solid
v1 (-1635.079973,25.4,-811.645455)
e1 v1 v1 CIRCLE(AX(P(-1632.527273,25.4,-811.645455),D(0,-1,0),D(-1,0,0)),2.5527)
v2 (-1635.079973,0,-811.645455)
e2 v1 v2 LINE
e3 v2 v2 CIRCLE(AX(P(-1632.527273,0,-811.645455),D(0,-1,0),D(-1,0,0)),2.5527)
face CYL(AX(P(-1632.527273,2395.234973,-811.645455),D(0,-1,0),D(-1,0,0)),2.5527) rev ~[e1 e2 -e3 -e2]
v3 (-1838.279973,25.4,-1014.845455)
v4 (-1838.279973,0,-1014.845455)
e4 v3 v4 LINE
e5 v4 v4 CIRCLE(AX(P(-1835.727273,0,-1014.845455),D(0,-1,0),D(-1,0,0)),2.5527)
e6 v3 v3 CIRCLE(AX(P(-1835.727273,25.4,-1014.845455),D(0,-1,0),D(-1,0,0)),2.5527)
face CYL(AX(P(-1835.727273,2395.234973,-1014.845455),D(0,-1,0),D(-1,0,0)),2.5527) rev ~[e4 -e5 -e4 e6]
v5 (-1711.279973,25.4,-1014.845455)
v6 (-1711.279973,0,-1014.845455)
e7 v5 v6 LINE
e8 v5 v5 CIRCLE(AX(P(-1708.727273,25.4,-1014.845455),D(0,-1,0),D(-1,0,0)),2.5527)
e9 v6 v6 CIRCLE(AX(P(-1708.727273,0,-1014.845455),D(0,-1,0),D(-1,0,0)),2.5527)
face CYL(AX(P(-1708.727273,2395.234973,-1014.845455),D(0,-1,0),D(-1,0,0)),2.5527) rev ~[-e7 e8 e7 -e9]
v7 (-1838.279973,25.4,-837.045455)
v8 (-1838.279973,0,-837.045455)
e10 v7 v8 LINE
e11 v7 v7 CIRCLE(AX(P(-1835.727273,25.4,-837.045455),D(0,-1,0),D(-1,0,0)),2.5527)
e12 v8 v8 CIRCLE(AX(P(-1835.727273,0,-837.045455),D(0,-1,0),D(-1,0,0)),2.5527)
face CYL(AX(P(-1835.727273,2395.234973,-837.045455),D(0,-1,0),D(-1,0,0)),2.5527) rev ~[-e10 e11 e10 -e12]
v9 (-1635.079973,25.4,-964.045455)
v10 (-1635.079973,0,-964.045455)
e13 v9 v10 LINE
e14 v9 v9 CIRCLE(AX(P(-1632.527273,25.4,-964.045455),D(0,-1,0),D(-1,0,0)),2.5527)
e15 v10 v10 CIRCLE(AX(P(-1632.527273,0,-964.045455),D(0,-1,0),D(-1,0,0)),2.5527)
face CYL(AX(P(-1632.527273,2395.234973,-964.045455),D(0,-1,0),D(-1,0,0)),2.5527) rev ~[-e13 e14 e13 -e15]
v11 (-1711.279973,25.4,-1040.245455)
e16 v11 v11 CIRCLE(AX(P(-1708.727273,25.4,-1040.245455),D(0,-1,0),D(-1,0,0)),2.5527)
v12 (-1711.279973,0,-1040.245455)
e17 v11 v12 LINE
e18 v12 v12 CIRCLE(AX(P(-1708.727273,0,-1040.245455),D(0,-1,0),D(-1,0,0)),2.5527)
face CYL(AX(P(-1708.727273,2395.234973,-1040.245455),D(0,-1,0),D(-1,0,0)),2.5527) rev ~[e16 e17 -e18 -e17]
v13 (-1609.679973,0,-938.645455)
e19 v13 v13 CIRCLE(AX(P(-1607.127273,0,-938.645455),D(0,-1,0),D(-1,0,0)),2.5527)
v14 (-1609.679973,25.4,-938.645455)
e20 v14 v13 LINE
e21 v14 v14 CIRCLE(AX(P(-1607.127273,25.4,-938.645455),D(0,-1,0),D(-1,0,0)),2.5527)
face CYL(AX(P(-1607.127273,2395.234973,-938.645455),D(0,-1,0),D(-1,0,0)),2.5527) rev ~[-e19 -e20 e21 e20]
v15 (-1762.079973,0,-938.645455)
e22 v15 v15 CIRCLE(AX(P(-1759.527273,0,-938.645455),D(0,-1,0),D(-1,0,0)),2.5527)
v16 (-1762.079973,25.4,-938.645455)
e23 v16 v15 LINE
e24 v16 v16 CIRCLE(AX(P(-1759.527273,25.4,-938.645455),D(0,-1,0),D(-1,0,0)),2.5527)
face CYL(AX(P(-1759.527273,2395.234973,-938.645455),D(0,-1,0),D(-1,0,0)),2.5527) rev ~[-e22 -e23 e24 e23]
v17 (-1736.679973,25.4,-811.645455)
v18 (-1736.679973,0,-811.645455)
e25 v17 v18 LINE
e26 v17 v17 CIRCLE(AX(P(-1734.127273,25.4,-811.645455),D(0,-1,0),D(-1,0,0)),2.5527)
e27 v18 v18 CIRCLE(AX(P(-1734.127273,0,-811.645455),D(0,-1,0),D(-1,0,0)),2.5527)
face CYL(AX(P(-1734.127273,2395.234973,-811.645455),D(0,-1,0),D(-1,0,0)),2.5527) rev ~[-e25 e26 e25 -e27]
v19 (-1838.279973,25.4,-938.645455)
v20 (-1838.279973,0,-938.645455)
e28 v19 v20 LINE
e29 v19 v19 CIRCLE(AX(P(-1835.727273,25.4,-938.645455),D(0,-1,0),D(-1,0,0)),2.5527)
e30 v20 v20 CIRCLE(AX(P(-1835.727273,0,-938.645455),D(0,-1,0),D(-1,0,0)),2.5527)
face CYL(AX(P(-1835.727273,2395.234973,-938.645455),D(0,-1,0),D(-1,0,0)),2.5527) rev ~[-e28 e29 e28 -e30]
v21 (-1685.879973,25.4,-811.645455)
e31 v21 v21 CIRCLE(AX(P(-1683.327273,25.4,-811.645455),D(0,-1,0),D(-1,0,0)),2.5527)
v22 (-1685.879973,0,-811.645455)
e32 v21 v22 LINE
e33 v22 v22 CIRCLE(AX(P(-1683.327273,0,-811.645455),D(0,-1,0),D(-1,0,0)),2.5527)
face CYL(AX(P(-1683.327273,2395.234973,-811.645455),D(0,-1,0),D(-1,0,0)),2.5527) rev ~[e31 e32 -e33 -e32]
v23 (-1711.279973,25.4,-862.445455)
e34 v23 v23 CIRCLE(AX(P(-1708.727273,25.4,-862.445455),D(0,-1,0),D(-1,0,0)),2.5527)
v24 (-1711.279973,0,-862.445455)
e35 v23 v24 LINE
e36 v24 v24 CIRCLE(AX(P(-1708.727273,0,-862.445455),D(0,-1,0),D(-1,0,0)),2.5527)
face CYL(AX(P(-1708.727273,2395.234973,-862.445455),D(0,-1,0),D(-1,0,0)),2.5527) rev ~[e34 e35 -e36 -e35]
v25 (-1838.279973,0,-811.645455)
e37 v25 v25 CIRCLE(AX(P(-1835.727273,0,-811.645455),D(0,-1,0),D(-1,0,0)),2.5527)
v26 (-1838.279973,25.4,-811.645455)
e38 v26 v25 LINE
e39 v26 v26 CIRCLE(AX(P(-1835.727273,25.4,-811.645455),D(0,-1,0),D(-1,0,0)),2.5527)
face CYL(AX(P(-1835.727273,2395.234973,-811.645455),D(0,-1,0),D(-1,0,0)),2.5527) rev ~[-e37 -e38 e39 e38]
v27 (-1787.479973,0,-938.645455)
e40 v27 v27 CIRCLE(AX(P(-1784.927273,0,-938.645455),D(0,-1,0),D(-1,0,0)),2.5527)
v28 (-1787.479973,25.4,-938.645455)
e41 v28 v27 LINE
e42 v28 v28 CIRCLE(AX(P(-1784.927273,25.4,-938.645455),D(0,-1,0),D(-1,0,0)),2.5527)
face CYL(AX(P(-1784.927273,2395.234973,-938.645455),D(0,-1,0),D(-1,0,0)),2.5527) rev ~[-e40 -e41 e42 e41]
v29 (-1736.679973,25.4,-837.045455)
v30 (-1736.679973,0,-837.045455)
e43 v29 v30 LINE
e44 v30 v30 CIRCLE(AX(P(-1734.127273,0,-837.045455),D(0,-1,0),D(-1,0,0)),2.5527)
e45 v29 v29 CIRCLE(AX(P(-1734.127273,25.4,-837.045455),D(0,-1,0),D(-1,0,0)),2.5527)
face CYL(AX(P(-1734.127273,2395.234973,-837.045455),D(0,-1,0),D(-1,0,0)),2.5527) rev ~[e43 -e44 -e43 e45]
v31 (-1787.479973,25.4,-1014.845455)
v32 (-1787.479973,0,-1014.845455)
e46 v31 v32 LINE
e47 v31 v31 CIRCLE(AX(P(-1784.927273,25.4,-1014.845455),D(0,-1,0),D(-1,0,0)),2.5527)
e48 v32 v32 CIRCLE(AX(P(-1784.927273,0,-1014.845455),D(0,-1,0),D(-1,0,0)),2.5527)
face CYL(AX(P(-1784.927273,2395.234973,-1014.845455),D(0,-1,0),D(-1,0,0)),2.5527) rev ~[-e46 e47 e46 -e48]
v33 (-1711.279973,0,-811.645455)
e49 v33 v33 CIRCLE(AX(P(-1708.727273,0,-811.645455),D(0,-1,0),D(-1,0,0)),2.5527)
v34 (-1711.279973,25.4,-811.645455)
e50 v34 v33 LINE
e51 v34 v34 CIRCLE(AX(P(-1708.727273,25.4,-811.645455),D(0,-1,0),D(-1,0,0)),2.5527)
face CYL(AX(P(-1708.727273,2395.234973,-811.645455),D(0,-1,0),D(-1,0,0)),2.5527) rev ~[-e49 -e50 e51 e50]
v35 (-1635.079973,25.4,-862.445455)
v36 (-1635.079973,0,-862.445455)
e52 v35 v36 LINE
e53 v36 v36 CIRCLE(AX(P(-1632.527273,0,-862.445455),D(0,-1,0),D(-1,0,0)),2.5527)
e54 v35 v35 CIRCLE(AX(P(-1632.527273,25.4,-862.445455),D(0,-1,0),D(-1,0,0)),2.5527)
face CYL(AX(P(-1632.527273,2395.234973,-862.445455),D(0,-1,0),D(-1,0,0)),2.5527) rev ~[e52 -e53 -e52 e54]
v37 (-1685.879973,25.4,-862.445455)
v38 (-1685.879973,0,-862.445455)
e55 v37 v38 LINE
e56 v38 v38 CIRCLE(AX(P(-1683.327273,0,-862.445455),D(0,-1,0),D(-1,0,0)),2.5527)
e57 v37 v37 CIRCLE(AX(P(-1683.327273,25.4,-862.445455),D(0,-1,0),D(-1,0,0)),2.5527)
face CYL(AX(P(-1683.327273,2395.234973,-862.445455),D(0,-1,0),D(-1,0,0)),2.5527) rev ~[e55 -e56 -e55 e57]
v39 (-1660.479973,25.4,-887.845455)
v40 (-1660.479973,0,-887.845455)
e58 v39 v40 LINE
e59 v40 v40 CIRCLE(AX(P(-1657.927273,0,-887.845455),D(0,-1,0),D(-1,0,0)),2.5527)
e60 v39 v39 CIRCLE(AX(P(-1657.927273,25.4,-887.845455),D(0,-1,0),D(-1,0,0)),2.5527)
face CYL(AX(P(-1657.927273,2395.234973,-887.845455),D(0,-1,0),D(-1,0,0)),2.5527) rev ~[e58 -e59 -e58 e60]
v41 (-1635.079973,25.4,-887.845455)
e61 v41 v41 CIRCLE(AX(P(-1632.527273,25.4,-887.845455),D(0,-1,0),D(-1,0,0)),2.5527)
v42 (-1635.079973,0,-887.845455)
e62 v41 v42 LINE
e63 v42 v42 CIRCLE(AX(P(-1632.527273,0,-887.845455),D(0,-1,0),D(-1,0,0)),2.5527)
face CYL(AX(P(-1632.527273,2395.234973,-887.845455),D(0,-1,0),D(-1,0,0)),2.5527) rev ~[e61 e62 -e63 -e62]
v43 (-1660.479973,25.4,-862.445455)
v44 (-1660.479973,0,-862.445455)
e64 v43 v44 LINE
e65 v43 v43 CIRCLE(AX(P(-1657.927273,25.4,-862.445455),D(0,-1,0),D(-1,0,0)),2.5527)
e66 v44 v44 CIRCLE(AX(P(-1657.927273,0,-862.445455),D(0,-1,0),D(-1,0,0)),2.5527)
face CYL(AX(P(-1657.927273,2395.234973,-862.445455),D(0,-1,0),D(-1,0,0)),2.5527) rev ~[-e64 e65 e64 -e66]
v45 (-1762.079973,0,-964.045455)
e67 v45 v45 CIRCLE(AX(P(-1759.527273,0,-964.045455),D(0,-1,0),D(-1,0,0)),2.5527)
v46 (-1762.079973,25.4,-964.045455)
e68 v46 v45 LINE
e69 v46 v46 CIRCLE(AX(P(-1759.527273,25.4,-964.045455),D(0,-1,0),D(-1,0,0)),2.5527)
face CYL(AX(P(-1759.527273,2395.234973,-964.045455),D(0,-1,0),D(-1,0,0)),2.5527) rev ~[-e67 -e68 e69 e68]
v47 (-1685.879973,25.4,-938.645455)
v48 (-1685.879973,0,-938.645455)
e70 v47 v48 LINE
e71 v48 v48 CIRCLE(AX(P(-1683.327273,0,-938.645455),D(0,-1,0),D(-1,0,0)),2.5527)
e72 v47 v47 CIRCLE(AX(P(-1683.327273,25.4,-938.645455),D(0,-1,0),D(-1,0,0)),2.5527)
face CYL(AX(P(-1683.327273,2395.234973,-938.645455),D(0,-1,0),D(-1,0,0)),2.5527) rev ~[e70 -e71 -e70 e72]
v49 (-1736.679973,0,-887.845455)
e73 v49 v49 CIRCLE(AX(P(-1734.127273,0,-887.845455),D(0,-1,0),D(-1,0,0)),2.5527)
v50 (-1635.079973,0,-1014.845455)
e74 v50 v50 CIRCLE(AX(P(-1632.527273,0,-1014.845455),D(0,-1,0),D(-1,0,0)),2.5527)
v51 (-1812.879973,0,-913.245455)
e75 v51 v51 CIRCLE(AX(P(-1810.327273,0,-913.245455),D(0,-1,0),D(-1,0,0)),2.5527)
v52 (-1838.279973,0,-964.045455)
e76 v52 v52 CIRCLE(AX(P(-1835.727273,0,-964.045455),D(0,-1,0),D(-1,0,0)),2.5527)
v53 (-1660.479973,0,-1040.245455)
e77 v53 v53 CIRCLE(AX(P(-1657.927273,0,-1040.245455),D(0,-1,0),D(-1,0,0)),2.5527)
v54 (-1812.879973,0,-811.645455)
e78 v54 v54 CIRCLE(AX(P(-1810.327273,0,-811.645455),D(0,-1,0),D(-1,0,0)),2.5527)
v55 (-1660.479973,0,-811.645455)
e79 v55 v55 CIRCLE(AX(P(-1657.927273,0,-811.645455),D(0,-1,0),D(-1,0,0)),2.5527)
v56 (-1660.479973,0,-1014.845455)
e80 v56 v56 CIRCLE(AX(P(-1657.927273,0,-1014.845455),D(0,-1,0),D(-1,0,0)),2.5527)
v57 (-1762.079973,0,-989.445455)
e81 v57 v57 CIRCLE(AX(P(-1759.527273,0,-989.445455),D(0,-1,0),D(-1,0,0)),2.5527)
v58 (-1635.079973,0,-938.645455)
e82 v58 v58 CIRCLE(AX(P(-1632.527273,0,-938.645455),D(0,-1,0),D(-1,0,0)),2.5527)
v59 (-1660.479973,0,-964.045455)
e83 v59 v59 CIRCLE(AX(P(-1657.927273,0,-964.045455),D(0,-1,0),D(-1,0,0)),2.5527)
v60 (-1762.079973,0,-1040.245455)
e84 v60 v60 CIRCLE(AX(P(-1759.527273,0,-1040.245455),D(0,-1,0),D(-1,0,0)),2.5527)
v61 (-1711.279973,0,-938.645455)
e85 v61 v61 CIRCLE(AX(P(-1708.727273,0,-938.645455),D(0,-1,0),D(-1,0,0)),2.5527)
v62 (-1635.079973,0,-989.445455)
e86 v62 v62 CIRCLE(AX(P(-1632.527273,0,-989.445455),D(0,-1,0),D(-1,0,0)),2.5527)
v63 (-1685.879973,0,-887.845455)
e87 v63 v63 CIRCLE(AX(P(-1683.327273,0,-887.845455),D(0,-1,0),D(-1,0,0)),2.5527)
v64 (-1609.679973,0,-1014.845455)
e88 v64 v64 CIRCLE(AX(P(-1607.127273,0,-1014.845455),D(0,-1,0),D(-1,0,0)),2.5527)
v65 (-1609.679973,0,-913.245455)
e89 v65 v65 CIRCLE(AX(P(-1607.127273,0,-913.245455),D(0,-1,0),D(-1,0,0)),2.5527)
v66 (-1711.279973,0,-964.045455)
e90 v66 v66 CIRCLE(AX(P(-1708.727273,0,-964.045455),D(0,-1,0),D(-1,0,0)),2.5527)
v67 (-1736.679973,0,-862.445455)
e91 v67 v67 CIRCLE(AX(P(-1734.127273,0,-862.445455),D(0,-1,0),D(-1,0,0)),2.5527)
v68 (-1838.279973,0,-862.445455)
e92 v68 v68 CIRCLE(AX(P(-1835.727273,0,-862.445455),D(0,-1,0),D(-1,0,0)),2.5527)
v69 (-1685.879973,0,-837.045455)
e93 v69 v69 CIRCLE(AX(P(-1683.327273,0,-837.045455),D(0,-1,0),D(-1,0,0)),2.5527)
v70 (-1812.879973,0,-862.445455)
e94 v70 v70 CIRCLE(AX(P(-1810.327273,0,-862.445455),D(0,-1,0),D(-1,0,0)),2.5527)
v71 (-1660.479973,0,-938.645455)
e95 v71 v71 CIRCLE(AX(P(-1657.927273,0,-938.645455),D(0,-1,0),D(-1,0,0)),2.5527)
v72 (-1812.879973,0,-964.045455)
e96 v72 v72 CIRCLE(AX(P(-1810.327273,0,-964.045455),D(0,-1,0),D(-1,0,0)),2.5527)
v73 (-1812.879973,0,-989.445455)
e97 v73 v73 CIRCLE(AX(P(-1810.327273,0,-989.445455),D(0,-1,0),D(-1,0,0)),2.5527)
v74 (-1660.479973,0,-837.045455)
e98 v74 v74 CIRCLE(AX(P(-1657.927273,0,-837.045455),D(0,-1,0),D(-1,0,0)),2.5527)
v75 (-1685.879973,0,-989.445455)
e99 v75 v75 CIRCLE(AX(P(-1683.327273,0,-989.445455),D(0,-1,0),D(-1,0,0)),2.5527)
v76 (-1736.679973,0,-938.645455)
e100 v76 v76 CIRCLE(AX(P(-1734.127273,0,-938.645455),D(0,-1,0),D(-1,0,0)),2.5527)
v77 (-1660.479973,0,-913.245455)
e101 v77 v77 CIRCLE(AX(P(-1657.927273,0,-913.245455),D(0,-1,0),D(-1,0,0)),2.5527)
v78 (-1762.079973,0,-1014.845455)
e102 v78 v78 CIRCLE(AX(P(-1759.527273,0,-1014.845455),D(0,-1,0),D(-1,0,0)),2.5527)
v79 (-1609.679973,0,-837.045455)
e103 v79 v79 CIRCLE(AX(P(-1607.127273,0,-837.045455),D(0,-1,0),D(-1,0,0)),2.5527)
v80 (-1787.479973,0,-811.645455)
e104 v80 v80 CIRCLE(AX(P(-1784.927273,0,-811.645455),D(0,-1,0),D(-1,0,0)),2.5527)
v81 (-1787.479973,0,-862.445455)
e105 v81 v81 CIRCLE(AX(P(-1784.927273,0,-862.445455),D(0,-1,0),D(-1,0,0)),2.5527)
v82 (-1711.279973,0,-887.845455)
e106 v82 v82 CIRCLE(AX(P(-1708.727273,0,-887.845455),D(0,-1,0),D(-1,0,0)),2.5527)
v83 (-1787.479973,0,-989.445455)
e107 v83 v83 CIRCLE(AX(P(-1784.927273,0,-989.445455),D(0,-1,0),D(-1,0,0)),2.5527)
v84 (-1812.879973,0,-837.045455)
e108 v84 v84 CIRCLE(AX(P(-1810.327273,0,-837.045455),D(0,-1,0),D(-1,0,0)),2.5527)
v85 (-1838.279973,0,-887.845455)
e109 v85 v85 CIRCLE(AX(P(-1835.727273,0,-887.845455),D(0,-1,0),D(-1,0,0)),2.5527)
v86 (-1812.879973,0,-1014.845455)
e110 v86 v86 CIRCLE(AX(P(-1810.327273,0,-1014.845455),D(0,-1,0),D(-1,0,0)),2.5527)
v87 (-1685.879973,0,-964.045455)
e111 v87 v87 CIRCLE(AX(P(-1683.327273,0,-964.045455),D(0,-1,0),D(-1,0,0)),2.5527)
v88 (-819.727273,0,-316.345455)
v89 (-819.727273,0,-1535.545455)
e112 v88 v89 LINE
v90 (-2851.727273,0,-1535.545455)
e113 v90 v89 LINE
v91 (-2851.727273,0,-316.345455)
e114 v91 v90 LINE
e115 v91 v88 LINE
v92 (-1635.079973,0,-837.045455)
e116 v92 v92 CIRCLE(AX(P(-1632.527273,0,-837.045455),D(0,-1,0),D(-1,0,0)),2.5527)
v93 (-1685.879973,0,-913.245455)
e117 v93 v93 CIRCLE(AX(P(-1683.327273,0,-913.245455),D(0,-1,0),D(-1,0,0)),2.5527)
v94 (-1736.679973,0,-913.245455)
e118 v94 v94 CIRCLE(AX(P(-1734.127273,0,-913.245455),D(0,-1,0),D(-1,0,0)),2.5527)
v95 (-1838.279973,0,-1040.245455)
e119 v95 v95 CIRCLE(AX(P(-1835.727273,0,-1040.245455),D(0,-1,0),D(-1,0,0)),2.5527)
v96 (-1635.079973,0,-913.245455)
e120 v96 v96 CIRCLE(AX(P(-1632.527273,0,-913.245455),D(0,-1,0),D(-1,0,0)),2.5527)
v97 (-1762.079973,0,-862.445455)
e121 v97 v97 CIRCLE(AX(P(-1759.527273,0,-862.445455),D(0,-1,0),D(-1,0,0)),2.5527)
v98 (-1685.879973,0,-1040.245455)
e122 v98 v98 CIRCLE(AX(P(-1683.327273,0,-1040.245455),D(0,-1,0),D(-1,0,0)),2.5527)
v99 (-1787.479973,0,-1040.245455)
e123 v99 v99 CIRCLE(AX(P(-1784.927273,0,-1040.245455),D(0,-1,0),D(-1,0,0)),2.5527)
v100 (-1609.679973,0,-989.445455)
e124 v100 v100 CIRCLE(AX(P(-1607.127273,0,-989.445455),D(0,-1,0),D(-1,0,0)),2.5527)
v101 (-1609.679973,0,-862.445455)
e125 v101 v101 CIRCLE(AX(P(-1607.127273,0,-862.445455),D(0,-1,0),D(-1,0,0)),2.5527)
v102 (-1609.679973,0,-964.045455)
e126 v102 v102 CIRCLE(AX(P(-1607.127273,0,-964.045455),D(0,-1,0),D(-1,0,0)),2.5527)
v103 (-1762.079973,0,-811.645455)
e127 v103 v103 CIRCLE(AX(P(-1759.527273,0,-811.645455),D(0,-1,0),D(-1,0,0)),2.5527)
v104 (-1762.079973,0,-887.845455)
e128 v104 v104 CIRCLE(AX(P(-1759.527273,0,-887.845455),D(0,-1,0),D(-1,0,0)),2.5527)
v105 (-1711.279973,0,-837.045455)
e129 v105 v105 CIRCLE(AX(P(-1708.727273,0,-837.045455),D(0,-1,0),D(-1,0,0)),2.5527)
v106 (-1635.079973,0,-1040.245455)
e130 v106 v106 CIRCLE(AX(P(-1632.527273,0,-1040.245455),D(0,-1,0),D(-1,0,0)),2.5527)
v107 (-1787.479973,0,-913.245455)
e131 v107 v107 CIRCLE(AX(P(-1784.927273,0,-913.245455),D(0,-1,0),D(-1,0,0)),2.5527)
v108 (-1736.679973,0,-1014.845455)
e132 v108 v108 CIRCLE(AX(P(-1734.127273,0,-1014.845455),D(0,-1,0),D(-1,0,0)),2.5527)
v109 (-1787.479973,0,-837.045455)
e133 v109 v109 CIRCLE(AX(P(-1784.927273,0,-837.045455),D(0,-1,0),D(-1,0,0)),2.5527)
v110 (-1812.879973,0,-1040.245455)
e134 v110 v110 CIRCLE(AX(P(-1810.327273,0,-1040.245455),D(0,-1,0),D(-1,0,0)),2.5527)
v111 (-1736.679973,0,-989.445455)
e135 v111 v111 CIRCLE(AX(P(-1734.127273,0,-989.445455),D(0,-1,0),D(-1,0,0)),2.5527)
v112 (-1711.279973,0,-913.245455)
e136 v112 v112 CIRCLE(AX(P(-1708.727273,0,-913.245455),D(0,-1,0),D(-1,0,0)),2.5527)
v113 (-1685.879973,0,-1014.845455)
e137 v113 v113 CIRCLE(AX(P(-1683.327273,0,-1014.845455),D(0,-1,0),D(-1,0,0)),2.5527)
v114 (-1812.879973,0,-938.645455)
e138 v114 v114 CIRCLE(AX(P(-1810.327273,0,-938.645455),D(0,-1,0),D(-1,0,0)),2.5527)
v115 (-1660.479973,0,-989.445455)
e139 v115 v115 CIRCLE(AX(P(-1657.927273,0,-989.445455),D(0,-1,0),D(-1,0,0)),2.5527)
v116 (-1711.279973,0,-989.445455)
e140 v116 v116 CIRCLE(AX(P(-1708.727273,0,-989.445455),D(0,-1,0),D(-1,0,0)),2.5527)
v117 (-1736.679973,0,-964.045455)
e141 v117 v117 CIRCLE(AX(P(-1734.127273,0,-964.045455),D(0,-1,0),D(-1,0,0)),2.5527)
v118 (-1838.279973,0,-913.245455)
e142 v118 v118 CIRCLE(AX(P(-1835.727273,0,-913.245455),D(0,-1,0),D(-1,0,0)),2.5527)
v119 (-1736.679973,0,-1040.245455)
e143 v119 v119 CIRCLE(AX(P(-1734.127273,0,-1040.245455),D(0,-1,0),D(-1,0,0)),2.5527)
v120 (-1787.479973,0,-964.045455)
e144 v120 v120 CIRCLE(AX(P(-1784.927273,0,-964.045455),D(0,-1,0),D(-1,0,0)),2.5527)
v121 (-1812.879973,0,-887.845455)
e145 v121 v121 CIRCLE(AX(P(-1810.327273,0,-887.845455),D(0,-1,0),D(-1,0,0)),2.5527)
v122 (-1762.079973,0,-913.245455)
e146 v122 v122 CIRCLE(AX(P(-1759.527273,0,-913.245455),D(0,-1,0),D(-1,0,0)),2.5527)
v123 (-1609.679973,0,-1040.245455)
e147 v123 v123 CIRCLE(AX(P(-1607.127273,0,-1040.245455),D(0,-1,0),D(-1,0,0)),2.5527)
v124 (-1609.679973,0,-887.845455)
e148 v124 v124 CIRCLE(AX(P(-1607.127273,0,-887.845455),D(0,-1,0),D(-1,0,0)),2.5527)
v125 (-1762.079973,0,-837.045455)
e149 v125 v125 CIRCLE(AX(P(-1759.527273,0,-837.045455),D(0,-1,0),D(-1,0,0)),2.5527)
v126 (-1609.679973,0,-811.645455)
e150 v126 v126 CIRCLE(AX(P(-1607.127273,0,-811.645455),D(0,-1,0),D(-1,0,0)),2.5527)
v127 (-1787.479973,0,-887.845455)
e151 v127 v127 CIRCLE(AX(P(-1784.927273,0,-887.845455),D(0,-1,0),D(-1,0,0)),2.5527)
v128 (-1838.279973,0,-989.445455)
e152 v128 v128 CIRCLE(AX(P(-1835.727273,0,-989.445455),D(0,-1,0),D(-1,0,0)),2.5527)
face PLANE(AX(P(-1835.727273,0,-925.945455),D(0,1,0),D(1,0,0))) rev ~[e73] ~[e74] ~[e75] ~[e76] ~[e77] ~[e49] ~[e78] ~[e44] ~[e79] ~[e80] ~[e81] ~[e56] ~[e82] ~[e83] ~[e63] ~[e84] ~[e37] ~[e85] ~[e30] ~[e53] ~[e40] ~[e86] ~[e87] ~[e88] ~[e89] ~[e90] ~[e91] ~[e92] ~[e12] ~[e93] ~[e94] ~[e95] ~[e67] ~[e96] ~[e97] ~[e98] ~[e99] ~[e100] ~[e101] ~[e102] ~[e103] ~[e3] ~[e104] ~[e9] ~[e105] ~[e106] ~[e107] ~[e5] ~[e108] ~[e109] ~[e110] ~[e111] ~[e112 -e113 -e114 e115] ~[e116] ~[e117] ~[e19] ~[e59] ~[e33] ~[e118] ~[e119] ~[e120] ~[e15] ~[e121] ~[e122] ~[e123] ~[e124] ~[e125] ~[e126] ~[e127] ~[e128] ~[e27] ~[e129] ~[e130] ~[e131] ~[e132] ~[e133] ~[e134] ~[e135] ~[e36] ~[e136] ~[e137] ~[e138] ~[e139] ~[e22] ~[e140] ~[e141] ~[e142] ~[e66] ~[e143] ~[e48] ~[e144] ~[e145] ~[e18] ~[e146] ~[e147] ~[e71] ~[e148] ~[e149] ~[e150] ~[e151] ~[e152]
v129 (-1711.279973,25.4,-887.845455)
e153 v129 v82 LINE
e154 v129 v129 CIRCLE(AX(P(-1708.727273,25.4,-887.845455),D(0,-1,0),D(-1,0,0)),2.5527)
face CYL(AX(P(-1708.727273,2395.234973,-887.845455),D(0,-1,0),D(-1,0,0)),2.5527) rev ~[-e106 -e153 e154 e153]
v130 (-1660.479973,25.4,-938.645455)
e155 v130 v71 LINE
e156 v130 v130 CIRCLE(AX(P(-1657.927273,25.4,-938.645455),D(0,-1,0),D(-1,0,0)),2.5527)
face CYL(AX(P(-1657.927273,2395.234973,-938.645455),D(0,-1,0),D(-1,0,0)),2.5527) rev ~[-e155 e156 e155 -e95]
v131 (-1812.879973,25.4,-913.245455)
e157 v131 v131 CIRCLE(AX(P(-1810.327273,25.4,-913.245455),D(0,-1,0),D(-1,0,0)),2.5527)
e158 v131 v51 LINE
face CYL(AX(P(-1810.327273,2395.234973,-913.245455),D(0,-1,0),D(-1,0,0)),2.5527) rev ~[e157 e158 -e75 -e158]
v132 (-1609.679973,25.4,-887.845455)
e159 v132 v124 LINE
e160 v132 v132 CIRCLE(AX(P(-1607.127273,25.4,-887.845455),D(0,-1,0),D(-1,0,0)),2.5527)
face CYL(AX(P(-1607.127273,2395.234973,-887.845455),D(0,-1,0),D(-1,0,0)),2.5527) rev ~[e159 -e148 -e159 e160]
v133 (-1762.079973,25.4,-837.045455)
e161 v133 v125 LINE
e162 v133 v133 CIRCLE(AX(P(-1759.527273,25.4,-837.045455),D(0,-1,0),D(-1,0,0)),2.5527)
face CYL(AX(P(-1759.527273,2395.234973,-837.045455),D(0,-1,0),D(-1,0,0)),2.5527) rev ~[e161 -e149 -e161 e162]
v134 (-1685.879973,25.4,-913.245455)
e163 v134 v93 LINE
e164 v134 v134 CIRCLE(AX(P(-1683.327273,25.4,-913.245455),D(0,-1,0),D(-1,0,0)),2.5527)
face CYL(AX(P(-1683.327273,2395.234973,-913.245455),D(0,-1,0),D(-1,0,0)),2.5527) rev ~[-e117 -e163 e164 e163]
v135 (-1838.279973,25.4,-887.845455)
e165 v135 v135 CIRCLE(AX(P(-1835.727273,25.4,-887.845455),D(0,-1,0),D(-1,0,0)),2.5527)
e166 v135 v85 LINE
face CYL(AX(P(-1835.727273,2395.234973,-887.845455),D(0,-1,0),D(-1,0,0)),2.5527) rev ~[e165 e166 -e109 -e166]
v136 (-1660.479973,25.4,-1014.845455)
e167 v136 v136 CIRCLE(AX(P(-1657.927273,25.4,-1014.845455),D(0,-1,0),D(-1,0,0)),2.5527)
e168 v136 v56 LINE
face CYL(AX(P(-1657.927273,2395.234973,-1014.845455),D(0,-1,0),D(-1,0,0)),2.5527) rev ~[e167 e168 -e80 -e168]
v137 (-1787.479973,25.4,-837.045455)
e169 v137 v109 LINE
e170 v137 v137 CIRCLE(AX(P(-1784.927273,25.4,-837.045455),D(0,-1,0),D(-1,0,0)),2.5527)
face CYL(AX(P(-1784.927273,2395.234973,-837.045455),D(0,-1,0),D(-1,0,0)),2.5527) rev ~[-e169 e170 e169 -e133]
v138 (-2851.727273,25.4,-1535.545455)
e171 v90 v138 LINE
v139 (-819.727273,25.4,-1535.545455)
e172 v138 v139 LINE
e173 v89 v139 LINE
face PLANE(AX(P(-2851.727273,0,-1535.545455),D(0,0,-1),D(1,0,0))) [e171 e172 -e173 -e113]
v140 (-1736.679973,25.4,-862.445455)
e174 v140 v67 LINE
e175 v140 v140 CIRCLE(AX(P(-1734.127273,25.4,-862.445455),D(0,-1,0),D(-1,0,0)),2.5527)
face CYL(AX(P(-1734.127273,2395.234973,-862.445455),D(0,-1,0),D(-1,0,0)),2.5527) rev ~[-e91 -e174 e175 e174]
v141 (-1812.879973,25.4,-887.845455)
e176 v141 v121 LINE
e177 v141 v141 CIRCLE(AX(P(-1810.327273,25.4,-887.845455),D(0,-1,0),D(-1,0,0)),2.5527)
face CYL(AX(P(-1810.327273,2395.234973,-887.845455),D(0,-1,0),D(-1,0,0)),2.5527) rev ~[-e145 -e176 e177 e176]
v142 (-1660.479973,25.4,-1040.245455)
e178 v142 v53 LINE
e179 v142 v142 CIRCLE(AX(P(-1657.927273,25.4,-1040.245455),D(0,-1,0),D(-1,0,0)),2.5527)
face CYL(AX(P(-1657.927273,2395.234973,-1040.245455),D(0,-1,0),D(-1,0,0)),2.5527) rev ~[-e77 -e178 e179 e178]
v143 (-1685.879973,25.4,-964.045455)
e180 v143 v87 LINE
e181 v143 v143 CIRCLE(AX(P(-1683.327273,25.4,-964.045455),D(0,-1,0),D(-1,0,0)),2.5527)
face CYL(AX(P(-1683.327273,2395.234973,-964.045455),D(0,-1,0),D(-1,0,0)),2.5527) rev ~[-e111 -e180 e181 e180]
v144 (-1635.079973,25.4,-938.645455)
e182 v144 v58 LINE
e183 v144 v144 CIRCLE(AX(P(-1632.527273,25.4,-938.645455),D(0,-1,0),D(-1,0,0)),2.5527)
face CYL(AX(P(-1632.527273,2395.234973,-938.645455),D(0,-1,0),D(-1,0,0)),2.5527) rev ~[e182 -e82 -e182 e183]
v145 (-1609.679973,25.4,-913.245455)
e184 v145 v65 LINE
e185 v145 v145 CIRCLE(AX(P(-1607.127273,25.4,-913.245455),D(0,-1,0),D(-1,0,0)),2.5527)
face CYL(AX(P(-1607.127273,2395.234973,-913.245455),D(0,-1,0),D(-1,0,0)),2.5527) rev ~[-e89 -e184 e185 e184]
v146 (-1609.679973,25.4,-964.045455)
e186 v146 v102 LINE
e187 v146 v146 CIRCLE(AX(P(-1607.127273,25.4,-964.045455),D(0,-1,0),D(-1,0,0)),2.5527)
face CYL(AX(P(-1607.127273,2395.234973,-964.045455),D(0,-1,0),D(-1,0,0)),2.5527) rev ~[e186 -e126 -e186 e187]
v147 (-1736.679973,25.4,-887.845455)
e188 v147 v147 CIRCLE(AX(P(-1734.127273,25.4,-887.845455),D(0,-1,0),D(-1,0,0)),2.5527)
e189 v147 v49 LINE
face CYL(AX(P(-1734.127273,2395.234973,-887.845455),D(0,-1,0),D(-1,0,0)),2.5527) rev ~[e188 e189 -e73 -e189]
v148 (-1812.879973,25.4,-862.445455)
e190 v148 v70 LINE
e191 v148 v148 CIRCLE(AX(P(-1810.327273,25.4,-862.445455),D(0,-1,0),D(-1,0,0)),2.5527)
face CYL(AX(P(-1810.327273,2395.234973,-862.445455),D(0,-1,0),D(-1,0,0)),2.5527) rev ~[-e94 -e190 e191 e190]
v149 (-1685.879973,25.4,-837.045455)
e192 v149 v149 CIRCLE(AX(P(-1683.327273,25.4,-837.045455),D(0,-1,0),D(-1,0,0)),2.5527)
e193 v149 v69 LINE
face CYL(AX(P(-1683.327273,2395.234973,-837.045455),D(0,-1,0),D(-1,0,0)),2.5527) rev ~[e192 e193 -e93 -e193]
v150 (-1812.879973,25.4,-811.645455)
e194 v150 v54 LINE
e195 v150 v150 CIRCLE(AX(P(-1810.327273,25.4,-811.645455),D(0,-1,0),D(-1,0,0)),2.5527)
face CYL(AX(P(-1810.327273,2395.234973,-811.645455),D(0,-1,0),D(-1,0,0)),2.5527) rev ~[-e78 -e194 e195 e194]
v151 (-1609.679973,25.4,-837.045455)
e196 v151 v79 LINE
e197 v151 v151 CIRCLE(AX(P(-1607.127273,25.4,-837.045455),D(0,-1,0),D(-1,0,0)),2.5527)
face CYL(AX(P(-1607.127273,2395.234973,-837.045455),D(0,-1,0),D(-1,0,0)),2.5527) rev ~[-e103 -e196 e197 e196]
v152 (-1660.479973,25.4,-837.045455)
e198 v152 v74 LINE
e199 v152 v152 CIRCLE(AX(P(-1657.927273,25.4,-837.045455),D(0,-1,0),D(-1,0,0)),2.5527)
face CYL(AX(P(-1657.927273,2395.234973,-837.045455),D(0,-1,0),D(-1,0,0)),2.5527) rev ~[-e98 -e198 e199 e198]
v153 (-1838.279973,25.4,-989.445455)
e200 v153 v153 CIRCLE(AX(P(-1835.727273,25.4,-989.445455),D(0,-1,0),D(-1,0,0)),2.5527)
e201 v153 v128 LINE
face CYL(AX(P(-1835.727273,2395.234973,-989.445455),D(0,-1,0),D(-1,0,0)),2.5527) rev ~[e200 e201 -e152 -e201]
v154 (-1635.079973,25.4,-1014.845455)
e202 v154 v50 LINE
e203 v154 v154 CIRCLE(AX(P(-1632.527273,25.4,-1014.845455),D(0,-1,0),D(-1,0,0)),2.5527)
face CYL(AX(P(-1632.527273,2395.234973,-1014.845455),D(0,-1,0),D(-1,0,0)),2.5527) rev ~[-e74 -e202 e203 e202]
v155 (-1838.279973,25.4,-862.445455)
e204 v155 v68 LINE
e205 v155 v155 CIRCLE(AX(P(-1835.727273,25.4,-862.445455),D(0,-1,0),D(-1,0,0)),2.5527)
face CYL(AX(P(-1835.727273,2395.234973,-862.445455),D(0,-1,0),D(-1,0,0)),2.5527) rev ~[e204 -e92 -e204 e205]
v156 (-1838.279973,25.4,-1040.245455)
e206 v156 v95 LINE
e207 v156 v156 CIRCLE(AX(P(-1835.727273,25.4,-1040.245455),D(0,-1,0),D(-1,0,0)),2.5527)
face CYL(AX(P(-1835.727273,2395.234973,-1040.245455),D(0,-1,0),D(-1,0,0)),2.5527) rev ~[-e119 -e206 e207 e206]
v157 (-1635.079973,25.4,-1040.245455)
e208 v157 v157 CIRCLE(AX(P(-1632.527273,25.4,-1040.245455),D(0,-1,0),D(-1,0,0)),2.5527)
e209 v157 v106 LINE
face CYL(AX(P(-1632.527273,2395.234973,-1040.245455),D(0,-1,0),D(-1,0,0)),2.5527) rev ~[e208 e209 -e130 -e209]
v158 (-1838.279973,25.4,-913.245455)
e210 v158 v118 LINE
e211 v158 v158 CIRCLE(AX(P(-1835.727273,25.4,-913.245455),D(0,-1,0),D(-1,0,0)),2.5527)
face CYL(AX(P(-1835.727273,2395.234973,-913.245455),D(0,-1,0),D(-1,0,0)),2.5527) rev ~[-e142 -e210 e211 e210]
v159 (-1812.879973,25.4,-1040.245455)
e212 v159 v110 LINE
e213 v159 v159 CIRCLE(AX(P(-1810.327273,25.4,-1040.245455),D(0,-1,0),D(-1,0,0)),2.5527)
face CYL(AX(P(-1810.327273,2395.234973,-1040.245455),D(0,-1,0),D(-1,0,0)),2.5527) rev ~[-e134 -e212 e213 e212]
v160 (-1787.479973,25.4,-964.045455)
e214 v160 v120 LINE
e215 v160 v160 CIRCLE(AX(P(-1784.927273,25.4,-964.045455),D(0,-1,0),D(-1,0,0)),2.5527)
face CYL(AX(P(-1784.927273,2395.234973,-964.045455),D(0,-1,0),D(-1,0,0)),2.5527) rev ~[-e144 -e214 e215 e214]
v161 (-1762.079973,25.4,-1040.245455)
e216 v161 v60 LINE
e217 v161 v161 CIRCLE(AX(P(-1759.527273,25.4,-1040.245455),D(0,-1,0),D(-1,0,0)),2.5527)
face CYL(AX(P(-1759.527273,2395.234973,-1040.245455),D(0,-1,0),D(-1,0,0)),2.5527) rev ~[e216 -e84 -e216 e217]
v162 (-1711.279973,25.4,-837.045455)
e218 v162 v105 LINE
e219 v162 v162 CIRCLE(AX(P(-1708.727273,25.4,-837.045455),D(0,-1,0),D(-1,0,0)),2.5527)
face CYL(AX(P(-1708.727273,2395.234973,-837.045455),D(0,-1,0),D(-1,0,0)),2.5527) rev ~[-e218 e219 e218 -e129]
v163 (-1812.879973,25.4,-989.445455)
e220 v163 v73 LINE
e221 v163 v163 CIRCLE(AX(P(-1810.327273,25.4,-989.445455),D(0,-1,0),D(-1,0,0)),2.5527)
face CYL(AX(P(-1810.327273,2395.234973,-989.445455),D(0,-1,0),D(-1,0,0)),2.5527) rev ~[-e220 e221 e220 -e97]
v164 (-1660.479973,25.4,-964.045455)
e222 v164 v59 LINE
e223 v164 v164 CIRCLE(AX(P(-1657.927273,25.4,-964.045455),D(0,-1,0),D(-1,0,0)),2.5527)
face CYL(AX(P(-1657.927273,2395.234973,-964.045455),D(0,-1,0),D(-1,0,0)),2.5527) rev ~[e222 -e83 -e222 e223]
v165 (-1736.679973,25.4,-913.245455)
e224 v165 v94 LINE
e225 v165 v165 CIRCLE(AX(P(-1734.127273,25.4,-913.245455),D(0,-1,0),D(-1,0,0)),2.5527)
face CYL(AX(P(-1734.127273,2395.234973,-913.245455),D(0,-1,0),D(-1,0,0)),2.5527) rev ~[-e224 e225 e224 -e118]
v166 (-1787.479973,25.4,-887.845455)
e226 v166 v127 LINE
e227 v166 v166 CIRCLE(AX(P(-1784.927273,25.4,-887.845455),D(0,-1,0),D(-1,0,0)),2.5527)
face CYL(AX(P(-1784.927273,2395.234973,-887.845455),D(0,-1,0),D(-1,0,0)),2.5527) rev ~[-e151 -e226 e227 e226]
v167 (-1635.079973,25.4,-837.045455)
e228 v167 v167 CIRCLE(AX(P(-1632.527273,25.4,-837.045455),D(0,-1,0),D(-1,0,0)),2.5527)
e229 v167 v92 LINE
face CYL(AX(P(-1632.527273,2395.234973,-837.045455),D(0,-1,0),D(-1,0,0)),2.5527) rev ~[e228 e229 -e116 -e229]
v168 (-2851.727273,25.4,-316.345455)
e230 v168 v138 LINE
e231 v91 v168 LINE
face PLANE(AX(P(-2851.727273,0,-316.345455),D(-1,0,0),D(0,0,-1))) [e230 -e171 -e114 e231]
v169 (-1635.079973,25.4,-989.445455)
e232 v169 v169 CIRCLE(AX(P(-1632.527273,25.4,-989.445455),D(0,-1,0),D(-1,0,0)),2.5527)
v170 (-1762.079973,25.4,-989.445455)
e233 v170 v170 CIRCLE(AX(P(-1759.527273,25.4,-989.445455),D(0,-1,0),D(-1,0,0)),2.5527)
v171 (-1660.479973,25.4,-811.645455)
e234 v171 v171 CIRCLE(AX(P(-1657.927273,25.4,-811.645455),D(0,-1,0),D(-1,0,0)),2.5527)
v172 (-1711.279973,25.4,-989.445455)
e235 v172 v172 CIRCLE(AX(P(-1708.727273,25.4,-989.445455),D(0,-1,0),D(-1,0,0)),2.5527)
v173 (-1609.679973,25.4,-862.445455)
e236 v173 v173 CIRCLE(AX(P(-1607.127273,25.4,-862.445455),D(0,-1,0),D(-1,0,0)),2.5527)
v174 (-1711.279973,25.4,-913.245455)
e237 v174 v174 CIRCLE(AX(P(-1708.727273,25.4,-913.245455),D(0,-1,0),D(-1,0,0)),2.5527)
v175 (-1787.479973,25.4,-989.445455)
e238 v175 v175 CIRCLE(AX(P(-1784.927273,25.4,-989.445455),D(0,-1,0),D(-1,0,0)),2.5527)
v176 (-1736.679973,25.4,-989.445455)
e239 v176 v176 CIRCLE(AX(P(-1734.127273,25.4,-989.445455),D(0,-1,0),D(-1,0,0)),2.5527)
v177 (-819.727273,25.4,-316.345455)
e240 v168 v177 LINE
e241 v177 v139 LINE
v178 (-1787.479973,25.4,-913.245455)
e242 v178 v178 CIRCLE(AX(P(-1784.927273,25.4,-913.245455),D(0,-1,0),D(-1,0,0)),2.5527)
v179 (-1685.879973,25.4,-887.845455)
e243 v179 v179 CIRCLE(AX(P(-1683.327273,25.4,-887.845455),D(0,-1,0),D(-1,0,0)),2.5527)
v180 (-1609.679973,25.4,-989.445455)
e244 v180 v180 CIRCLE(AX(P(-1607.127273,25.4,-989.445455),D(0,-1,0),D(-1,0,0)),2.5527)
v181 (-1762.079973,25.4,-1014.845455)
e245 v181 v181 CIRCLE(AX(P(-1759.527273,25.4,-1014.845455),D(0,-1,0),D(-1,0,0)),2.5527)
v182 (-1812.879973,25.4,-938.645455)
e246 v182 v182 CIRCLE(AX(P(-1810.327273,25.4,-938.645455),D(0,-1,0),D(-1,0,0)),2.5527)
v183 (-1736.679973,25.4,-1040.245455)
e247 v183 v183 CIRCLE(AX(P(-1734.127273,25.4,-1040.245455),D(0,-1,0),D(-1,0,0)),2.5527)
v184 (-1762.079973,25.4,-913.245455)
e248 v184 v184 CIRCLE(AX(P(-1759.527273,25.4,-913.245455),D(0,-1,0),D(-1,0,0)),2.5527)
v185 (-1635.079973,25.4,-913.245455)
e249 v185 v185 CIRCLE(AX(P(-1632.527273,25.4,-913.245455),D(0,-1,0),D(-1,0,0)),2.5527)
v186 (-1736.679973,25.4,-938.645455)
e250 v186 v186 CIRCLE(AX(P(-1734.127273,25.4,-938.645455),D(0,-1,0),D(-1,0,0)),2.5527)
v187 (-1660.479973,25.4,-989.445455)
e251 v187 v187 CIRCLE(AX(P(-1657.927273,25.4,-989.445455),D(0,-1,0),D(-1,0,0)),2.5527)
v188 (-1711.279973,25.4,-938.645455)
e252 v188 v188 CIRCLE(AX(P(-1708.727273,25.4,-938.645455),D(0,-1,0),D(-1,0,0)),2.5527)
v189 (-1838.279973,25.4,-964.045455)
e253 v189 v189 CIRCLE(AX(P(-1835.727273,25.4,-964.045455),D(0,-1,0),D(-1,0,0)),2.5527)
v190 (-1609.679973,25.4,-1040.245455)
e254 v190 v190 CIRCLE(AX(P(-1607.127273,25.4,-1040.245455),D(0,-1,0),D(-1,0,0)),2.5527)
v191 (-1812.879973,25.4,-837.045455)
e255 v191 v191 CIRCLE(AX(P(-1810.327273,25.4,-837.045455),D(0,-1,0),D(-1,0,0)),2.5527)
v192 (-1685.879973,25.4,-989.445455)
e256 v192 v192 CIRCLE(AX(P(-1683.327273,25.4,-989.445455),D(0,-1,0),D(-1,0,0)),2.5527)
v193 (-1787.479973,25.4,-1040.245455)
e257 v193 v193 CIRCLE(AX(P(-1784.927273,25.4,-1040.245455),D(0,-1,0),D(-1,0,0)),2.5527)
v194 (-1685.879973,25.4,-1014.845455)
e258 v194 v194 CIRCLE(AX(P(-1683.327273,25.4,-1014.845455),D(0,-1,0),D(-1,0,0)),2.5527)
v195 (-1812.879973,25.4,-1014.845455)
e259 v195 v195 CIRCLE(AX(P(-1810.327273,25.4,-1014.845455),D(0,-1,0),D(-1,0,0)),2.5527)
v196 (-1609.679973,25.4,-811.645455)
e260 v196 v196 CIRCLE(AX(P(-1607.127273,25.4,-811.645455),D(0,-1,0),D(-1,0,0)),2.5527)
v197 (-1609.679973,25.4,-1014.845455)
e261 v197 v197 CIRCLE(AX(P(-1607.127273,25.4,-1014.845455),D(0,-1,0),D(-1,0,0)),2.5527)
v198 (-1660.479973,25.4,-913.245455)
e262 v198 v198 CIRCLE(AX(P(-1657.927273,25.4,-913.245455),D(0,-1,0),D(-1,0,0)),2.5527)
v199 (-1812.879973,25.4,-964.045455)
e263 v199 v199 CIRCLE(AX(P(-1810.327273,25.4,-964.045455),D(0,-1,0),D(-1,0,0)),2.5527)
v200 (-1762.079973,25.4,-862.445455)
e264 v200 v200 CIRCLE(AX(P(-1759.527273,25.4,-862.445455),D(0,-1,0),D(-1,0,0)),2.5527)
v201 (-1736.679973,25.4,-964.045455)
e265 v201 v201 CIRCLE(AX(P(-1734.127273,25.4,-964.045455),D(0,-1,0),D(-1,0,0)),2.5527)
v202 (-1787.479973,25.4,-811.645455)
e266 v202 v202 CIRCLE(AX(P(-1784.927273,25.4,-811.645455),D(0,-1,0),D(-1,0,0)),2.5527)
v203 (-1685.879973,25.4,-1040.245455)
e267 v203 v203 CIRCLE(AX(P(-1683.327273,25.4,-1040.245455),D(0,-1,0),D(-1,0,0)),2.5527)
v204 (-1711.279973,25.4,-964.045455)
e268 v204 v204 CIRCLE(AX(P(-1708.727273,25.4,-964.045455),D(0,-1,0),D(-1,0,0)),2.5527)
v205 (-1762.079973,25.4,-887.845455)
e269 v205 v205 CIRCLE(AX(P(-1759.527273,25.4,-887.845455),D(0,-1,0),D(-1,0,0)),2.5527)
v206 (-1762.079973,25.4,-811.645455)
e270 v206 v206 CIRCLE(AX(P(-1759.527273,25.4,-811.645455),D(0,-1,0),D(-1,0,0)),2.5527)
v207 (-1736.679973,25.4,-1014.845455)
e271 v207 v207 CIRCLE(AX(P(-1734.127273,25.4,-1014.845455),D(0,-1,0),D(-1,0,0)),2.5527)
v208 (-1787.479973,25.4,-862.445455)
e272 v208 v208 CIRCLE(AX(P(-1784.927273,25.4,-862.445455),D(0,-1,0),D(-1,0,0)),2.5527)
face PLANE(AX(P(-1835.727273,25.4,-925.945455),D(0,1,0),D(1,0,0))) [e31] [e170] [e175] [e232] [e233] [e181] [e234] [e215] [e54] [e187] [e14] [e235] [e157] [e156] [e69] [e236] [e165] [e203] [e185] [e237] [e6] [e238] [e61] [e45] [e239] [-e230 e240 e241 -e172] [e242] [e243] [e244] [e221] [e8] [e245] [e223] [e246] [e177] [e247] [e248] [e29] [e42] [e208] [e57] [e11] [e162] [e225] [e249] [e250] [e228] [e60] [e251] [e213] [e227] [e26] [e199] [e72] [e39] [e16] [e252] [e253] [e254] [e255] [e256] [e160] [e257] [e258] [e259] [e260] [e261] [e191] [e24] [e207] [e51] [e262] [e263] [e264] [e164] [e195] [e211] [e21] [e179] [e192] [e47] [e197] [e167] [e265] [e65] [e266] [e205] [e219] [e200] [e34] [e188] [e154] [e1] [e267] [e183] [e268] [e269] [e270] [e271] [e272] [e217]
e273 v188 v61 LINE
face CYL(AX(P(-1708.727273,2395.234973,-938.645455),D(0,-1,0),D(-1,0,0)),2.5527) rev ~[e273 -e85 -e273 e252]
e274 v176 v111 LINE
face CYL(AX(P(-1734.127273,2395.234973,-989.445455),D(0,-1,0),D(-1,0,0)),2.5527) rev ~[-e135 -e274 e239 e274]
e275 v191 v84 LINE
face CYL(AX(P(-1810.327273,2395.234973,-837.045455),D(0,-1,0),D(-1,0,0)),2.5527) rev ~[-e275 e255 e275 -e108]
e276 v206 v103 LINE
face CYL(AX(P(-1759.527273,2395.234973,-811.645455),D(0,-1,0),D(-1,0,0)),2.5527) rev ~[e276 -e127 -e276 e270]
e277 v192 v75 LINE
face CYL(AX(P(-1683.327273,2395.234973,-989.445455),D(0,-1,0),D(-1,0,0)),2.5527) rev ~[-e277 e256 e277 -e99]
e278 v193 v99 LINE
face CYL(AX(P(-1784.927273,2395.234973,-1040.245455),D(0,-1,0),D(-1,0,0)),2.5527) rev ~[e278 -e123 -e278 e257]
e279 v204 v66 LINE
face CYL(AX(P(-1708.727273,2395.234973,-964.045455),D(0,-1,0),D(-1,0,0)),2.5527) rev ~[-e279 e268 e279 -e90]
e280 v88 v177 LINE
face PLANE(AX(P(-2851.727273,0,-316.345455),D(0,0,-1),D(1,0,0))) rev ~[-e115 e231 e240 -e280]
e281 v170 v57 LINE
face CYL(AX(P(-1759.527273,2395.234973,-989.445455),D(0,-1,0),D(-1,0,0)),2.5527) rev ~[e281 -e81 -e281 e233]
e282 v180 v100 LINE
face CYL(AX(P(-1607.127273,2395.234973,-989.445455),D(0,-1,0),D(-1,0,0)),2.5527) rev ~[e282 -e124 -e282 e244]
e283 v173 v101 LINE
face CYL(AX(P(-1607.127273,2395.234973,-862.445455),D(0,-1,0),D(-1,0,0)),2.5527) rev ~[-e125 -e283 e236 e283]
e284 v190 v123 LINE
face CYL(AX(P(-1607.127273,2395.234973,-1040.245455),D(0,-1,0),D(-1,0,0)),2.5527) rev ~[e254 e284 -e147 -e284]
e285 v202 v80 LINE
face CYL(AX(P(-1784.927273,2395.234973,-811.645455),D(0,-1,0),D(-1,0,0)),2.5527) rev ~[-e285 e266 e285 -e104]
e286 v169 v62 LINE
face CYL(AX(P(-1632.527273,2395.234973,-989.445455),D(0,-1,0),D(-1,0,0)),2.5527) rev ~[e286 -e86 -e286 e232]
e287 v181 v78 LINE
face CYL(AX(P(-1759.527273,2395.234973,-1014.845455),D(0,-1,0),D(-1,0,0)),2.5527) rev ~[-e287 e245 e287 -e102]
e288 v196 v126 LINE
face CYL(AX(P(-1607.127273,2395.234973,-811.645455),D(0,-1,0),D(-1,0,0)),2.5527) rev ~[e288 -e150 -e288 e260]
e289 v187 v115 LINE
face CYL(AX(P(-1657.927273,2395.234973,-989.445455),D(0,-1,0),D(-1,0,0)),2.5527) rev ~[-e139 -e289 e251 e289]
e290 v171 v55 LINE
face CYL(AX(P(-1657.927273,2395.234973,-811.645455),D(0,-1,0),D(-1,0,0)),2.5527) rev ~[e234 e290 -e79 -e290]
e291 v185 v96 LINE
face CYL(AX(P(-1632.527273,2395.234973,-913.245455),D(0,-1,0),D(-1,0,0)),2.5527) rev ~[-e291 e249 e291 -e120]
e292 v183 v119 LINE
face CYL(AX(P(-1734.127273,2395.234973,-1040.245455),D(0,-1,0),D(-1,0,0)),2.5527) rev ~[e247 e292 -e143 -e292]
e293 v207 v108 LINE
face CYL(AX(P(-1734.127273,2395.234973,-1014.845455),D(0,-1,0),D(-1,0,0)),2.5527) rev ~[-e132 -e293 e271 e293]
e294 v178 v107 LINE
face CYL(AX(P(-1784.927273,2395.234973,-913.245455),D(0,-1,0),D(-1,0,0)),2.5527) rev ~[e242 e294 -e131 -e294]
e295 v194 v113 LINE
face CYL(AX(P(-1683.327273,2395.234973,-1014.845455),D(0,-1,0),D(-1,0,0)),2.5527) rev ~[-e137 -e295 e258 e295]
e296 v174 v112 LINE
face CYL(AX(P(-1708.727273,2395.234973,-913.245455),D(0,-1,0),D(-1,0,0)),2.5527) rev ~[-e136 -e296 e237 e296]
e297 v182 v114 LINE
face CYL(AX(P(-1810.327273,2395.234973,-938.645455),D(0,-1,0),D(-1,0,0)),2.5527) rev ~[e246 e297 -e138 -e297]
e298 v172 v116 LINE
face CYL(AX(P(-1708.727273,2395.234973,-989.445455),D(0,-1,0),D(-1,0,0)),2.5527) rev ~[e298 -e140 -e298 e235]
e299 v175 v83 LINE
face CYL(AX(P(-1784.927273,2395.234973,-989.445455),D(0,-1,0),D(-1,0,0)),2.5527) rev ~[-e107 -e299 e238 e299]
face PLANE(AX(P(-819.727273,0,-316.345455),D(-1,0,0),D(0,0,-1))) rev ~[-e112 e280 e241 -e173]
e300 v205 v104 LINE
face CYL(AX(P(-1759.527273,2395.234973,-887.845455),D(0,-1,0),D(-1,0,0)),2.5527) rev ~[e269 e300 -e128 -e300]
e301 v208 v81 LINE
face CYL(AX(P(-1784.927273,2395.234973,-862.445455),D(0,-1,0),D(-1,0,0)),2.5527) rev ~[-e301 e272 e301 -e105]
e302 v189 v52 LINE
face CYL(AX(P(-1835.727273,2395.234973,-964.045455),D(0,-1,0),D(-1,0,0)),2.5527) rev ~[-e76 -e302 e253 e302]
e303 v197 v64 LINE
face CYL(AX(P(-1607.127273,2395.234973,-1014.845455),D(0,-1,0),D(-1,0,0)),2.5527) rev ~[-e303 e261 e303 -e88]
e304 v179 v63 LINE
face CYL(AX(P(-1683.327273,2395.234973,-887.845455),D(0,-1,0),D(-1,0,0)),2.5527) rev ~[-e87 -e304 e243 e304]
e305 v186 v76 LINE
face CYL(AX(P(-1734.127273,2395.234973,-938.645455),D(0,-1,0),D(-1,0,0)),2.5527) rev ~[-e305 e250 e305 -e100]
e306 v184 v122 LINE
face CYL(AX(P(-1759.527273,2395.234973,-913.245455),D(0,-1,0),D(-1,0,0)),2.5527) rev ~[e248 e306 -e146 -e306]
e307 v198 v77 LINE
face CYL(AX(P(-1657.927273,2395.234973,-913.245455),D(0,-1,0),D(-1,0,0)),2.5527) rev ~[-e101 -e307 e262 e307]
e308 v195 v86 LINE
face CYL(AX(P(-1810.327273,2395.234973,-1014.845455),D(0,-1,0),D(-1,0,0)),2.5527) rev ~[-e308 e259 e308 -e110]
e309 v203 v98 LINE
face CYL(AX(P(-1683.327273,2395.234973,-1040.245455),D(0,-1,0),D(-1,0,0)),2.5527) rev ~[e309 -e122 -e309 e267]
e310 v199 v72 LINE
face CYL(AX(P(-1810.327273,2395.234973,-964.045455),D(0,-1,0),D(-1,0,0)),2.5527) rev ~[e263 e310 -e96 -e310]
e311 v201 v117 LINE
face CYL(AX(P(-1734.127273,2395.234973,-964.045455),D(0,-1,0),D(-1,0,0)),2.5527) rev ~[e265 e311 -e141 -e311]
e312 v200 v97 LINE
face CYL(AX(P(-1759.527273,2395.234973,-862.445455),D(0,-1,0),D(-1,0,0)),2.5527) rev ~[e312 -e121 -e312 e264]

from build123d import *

# Parameters (mm, degrees)
SKETCH2_W               = 2032
SKETCH2_H               = 1219.2
BOSS_EXTRUDE1_DEPTH     = 25.4
F_1_4_20_TAPPED_HOLE1_D = 5.1054
LPATTERN1_COUNT         = 10
LPATTERN1_PITCH         = 25.4
LPATTERN1_COUNT_DIR2    = 10
LPATTERN1_PITCH_DIR2    = 25.4


with BuildPart() as part:
    # Sketch2 → Boss-Extrude1 (new body)
    with BuildSketch(Plane(origin=(0, 0, 0), x_dir=(1, 0, 0), z_dir=(0, 1, 0))):
        with Locations((-1835.727272727, 925.945454545)):
            Rectangle(SKETCH2_W, SKETCH2_H)
    extrude(amount=BOSS_EXTRUDE1_DEPTH)

    # 1/4-20 Tapped Hole1 (through all)
    with Locations(Plane(origin=(0, 25.4, 0), x_dir=(1, 0, 0), z_dir=(0, 1, 0))):
        with Locations((-1835.727272727, 811.645454545)):
            f_1_4_20_tapped_hole1 = Hole(F_1_4_20_TAPPED_HOLE1_D / 2)

    # LPattern1: 1_4-20 Tapped Hole1 10 × 10
    with Locations(*[(j * LPATTERN1_PITCH_DIR2, 0, -i * LPATTERN1_PITCH) for i in range(LPATTERN1_COUNT) for j in range(LPATTERN1_COUNT_DIR2) if (i, j) != (0, 0)]):
        add(f_1_4_20_tapped_hole1, mode=Mode.SUBTRACT)


solid = part.part
